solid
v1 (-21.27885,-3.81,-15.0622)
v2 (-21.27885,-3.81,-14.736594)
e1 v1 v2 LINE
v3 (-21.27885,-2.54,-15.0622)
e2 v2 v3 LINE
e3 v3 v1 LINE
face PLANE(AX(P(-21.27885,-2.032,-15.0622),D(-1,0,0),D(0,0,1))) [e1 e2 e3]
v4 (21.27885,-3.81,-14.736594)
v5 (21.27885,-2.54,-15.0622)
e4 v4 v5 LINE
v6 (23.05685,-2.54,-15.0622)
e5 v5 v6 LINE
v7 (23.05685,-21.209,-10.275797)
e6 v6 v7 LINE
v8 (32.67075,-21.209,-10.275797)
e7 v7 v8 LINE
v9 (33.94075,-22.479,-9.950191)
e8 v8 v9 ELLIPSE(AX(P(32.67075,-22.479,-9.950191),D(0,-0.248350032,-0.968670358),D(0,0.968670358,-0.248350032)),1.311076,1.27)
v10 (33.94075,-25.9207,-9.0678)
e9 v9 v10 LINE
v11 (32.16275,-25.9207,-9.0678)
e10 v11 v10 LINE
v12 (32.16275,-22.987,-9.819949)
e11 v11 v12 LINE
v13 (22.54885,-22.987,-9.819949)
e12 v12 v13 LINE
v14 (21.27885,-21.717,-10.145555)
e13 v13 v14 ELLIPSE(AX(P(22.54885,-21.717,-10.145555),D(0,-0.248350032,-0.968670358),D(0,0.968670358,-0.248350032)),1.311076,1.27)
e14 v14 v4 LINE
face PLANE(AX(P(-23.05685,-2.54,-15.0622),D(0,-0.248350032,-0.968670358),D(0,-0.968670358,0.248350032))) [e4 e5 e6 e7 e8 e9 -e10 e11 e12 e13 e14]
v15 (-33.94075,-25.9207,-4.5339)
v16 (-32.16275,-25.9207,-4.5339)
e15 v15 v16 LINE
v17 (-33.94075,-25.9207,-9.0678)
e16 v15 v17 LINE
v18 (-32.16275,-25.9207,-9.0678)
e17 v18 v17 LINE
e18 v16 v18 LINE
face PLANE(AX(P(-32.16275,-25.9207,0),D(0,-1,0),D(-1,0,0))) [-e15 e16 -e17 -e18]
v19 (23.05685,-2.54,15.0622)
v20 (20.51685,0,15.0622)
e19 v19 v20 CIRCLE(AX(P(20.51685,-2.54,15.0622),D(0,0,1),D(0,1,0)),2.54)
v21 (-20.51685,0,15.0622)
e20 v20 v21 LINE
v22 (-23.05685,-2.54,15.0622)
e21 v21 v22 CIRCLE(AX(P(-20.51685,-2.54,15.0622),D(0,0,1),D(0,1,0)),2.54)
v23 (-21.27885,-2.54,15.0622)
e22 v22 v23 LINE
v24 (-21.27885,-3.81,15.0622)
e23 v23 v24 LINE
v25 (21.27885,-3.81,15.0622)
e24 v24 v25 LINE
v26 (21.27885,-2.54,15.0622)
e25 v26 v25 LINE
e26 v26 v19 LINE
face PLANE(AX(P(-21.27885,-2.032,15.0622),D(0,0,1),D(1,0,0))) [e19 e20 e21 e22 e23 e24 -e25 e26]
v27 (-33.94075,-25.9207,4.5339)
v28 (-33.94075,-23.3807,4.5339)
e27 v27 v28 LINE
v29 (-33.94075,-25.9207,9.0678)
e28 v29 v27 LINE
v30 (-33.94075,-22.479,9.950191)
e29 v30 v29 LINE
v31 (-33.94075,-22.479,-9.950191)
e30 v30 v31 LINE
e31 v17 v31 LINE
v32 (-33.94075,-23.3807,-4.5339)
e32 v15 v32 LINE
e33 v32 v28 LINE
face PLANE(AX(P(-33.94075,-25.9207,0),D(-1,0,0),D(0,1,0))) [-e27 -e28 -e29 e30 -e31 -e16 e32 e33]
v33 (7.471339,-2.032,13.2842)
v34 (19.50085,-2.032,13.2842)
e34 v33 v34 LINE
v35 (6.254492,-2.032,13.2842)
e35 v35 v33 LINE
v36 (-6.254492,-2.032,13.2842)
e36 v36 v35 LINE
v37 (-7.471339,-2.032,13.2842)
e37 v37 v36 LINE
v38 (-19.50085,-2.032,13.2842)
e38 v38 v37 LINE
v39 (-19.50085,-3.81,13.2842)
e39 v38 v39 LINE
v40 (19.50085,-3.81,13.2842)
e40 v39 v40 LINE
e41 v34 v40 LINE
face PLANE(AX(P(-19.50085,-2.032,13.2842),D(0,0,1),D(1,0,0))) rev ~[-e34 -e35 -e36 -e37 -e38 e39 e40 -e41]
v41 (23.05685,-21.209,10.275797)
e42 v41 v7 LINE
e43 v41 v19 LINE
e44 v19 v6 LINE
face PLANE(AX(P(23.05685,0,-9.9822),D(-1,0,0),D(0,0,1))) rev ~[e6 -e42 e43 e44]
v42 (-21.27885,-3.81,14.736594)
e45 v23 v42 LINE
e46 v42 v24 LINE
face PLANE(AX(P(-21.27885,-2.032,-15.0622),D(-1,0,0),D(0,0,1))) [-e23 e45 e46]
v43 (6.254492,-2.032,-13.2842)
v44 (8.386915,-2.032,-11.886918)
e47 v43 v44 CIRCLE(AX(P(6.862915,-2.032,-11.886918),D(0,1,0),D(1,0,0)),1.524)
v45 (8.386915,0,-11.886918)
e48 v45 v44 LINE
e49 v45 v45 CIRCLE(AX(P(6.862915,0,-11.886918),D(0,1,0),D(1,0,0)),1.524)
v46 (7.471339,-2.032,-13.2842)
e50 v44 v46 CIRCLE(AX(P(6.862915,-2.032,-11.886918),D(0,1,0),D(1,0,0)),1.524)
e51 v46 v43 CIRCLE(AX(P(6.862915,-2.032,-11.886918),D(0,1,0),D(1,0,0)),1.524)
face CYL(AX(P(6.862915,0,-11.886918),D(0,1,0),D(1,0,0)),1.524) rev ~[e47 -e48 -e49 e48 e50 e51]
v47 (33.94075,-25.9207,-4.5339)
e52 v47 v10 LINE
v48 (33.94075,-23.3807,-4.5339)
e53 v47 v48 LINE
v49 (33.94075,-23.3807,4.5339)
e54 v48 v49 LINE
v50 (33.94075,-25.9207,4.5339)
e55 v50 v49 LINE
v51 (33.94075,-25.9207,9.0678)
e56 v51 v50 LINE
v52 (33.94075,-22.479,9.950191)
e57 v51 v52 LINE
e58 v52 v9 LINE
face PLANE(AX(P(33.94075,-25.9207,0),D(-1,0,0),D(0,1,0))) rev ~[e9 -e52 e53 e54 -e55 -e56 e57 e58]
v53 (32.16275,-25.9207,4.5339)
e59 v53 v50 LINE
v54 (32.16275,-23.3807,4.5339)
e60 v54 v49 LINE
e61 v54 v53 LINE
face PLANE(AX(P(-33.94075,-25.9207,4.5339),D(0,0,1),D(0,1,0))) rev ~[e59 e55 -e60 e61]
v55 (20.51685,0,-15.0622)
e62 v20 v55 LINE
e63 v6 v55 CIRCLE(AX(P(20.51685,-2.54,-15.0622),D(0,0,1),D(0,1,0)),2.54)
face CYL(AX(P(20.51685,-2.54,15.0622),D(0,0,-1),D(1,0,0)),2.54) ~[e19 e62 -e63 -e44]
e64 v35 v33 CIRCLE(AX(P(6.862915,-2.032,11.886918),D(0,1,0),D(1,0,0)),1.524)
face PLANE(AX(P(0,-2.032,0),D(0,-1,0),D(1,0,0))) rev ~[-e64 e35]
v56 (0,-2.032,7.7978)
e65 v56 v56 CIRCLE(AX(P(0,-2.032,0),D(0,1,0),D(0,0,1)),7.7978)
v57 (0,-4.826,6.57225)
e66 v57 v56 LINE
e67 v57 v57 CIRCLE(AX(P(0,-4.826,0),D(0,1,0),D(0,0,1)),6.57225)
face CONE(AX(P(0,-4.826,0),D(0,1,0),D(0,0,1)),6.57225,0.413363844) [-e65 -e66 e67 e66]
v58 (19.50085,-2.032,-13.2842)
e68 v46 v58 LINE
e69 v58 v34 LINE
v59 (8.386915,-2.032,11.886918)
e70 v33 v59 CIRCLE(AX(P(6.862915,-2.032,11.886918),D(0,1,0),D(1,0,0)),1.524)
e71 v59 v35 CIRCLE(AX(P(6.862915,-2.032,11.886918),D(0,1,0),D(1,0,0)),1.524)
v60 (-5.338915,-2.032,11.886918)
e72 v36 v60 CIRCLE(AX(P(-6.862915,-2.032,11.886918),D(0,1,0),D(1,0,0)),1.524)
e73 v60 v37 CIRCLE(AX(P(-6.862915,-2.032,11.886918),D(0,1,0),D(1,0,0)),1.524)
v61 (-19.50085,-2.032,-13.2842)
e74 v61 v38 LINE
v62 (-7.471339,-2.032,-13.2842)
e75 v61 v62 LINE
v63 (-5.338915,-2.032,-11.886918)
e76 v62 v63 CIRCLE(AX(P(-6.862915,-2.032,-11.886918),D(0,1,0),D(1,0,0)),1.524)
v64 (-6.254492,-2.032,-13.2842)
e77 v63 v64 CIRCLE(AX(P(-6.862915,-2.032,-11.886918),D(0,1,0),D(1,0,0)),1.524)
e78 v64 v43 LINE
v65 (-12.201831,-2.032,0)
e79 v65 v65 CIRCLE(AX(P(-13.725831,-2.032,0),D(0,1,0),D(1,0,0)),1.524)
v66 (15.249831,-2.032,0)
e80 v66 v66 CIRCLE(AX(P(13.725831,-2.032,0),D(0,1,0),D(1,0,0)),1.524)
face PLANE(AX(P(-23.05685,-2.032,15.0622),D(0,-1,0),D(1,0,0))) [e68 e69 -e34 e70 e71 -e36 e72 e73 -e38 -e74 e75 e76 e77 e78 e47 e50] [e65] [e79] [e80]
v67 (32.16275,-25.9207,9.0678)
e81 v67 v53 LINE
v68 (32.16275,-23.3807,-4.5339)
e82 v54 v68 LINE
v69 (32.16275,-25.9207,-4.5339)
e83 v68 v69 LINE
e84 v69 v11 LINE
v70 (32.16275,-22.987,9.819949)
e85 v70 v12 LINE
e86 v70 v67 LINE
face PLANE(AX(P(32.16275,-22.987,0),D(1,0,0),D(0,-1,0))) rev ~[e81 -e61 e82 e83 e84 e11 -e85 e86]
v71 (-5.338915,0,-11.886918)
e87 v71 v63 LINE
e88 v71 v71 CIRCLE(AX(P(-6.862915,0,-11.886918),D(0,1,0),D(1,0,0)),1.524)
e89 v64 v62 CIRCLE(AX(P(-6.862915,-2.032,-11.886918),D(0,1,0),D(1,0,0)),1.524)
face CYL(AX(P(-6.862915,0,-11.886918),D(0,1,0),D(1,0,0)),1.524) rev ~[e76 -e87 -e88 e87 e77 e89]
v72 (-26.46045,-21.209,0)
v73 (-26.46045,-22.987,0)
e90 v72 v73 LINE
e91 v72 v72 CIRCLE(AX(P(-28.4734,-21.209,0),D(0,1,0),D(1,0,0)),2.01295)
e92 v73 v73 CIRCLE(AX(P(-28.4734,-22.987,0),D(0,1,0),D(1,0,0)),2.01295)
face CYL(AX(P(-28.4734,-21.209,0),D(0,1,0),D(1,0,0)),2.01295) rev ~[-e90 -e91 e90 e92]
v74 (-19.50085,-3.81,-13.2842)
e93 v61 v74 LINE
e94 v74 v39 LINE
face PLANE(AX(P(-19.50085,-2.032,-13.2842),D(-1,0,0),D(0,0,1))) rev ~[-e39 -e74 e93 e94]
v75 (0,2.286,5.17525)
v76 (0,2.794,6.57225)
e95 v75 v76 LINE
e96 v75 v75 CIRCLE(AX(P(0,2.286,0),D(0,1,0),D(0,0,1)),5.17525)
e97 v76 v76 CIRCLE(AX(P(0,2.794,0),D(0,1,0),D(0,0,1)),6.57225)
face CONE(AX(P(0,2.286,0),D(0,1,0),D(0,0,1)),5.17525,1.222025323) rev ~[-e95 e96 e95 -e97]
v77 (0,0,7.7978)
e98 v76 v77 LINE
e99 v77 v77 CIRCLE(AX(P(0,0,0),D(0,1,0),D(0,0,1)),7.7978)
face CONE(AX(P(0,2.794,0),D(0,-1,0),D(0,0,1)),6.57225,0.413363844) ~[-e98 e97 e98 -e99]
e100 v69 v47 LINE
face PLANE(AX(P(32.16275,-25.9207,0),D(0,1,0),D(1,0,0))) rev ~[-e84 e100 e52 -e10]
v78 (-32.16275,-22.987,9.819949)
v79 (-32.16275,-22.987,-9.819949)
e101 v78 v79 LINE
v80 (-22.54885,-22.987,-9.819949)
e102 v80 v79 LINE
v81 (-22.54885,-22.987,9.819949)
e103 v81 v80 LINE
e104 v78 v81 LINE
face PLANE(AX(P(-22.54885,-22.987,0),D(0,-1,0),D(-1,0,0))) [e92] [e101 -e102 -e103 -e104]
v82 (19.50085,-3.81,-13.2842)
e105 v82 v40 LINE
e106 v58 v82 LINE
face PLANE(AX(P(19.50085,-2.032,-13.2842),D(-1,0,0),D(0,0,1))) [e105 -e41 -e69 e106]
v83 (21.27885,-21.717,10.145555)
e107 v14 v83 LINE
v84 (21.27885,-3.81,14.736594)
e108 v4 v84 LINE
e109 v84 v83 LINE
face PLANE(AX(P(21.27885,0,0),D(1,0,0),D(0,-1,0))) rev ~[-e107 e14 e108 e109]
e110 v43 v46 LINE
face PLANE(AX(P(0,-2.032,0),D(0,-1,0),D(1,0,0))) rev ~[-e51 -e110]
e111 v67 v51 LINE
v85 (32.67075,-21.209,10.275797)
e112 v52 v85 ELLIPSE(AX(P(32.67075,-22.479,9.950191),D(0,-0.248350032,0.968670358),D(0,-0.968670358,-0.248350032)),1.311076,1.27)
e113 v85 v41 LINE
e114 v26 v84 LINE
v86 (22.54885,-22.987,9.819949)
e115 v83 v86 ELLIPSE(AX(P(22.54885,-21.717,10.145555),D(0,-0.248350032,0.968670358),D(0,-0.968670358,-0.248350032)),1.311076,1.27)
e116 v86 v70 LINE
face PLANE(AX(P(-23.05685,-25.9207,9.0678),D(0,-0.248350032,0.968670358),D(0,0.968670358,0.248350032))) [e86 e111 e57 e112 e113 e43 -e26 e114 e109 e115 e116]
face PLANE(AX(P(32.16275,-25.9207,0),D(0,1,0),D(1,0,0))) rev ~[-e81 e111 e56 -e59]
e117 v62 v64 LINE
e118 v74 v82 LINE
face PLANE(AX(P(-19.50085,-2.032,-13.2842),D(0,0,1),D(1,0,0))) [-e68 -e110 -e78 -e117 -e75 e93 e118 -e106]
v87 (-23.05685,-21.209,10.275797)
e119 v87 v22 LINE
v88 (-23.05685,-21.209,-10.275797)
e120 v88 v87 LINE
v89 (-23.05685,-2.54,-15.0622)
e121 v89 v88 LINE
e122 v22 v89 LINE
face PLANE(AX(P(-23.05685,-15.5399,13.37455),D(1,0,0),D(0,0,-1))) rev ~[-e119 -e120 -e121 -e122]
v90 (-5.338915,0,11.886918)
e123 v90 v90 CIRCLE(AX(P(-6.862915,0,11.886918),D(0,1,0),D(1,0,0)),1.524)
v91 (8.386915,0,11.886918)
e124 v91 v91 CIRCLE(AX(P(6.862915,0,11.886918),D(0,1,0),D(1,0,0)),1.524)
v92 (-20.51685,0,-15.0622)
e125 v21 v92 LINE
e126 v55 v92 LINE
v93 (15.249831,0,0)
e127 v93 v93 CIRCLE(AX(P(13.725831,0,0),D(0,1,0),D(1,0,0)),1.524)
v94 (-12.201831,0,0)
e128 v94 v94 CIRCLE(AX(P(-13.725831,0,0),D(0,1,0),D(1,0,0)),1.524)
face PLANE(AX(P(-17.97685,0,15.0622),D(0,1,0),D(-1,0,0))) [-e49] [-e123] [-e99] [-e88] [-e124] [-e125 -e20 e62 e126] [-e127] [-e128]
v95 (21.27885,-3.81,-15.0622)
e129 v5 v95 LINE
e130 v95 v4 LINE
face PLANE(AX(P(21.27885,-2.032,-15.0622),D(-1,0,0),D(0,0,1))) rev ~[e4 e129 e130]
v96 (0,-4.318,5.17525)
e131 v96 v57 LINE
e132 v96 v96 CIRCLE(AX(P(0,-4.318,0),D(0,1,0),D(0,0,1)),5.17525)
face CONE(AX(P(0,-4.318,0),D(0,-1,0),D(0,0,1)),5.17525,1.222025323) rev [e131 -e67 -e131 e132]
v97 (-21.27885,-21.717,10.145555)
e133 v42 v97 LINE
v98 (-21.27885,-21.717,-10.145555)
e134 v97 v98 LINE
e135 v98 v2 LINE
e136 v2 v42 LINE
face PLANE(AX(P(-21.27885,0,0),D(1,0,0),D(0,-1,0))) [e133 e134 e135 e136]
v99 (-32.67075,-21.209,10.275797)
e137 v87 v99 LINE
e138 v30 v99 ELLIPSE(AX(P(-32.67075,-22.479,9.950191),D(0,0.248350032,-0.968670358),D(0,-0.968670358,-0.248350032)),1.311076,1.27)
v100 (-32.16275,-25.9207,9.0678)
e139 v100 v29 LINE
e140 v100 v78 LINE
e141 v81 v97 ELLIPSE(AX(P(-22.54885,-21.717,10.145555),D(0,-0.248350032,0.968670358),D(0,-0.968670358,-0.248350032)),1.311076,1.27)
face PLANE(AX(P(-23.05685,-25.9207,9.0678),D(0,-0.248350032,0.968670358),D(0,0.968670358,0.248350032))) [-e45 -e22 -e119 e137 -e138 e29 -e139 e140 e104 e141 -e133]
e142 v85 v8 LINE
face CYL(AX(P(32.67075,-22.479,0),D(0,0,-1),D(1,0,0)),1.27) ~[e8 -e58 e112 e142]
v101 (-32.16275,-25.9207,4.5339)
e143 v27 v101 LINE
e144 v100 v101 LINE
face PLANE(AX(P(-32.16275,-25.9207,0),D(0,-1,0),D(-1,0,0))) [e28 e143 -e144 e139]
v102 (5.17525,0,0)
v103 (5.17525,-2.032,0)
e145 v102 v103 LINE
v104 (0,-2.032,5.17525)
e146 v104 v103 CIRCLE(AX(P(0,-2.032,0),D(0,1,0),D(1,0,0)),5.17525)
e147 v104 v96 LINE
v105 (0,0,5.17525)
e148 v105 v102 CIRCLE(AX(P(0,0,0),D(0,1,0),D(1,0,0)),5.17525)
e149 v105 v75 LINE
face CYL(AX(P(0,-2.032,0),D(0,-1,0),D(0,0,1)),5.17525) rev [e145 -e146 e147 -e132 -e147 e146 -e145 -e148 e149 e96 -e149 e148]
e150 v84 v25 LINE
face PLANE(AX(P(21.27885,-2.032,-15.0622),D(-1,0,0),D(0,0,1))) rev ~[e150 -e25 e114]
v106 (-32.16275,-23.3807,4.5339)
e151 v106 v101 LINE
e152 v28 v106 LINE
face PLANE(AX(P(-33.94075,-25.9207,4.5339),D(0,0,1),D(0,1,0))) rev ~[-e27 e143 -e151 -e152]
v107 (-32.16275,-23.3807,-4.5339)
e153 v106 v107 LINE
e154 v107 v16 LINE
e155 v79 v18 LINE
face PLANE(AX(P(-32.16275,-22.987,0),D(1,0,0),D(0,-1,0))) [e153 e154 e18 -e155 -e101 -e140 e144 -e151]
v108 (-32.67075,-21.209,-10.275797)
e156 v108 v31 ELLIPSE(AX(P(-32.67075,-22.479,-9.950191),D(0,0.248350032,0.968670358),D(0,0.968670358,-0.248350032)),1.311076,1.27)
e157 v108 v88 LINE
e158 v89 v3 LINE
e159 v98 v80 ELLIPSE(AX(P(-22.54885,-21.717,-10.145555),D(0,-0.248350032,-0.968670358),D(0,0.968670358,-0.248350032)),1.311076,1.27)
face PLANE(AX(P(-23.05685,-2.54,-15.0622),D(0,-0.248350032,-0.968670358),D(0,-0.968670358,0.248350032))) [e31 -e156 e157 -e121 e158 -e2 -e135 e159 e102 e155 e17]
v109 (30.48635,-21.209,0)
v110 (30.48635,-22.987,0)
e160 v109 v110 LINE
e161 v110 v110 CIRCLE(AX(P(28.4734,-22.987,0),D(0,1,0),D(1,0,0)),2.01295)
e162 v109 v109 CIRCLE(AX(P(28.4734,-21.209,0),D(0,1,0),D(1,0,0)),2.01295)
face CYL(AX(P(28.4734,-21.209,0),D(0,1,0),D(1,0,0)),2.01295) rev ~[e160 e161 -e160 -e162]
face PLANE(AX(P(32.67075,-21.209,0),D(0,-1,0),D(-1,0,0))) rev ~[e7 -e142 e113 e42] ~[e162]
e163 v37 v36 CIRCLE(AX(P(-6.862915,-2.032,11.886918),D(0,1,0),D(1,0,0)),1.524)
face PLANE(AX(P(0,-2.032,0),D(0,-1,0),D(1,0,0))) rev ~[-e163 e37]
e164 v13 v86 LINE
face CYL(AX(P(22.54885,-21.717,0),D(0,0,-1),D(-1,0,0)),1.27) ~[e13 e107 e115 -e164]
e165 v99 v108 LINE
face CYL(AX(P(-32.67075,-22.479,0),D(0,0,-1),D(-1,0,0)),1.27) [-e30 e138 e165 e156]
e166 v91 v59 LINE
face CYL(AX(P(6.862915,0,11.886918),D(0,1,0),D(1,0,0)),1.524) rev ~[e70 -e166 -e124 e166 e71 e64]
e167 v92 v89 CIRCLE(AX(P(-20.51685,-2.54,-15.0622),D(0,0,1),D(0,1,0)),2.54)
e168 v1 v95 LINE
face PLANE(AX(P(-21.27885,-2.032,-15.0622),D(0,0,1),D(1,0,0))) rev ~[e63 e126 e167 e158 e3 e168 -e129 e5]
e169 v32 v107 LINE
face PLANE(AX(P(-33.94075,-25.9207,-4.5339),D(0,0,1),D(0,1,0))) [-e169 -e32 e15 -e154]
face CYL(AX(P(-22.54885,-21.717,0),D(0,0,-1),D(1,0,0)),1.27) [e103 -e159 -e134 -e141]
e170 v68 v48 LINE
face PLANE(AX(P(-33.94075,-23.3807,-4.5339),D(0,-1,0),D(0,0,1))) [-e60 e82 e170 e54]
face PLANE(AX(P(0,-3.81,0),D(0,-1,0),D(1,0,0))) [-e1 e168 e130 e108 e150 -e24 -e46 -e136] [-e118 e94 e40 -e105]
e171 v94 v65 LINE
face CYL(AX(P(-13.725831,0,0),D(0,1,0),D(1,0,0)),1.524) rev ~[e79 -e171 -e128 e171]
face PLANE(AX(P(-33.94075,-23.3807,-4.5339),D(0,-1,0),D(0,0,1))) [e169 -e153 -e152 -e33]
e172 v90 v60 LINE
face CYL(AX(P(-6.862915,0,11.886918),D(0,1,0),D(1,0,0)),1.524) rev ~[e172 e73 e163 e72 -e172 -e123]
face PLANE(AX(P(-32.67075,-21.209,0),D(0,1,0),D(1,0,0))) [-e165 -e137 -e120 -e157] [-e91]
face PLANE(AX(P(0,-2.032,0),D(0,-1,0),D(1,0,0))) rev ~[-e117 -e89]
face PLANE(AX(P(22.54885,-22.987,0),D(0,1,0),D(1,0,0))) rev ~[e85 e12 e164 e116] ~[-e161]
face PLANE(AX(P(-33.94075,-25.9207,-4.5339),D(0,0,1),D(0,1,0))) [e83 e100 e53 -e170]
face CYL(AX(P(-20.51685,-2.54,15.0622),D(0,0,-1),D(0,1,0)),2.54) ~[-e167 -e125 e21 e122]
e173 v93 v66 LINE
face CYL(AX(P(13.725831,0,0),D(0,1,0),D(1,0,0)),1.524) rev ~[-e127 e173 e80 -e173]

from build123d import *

# Parameters (mm, degrees)
SKETCH1_R                       = 7.7978
SKETCH1_R_2                     = 6.57225
SKETCH1_R_3                     = 5.17525
BOSS_EXTRUDE1_DEPTH             = 2.032
BOSS_EXTRUDE2_REACH             = 17.062
BOSS_EXTRUDE2_DIRECTION_2_REACH = 17.062
SKETCH4_W                       = 3.302
SKETCH4_H                       = 2.032
BOSS_EXTRUDE3_DEPTH             = 30.1244
FILLET1_R                       = 2.54
FILLET2_R                       = 2.54
SKETCH5_W                       = 9.0678
SKETCH5_H                       = 2.54
CUT_EXTRUDE1_DEPTH              = 116.84
SKETCH6_R                       = 2.01295
CUT_EXTRUDE2_DEPTH              = 5.7117
SKETCH7_R                       = 1.524
CUT_EXTRUDE3_DEPTH              = 26.9207
CUT_EXTRUDE4_DEPTH              = 116.84
CUT_EXTRUDE4_DEPTH_BACK         = 116.84
SKETCH9_W                       = 42.5577
SKETCH9_H                       = 30.1244
SKETCH9_W_2                     = 39.0017
SKETCH9_H_2                     = 26.5684
BOSS_EXTRUDE4_DEPTH             = 1.778


with BuildPart() as part:
    # Sketch1 → Boss-Extrude1 (new body)
    with BuildSketch(Plane(origin=(0, 0, 0), x_dir=(1, 0, 0), z_dir=(0, 1, 0))):
        with BuildLine():
            ThreePointArc((-23.05685, 9.9822), (-21.568952448, 13.574302448), (-17.97685, 15.0622))
            Line((-17.97685, 15.0622), (17.97685, 15.0622))
            ThreePointArc((17.97685, 15.0622), (21.568952448, 13.574302448), (23.05685, 9.9822))
            Line((23.05685, 9.9822), (23.05685, -9.9822))
            ThreePointArc((23.05685, -9.9822), (21.568952448, -13.574302448), (17.97685, -15.0622))
            Line((17.97685, -15.0622), (-17.97685, -15.0622))
            ThreePointArc((-17.97685, -15.0622), (-21.568952448, -13.574302448), (-23.05685, -9.9822))
            Line((-23.05685, -9.9822), (-23.05685, 9.9822))
        make_face()
        Circle(SKETCH1_R, mode=Mode.SUBTRACT)
        Circle(SKETCH1_R)
        Circle(SKETCH1_R_2, mode=Mode.SUBTRACT)
        Circle(SKETCH1_R_2)
        Circle(SKETCH1_R_3, mode=Mode.SUBTRACT)
    extrude(amount=-BOSS_EXTRUDE1_DEPTH)

    # Sketch2 → Revolve1 (revolve)
    with BuildSketch(Plane(origin=(0, 0, 0), x_dir=(0, 0, -1), z_dir=(1, 0, 0))):
        Polygon((-5.17525, 2.286), (-6.57225, 2.794), (-7.7978, 0), (-5.17525, 0), align=None)
    revolve1 = revolve(axis=Axis((0, 0, 0), (0, 1, 0)))

    # Boss-Extrude2: up to this face of the body (flat: up to its plane)
    boss_extrude2_end = Plane(part.part.faces().sort_by_distance((0, -1.016, 15.0622))[0])
    # Sketch3 → Boss-Extrude2 (add, up to the picked face)
    with BuildSketch(Plane.XY, mode=Mode.PRIVATE) as boss_extrude2_sk1:
        with BuildLine():
            ThreePointArc((-23.05685, -1.27), (-22.684875612, -0.371974388), (-21.78685, 0))
            Line((-21.78685, 0), (-21.27885, 0))
            Line((-21.27885, 0), (-21.27885, -21.717))
            ThreePointArc((-21.27885, -21.717), (-21.650824388, -22.615025612), (-22.54885, -22.987))
            Line((-22.54885, -22.987), (-23.05685, -22.987))
            Line((-23.05685, -22.987), (-32.16275, -22.987))
            Line((-32.16275, -22.987), (-32.16275, -25.9207))
            Line((-32.16275, -25.9207), (-33.94075, -25.9207))
            Line((-33.94075, -25.9207), (-33.94075, -22.479))
            ThreePointArc((-33.94075, -22.479), (-33.568775612, -21.580974388), (-32.67075, -21.209))
            Line((-32.67075, -21.209), (-32.16275, -21.209))
            Line((-32.16275, -21.209), (-23.05685, -21.209))
            Line((-23.05685, -21.209), (-23.05685, -1.27))
        make_face()
    boss_extrude2_tool1 = split(extrude(boss_extrude2_sk1.sketch, amount=BOSS_EXTRUDE2_REACH, mode=Mode.PRIVATE), bisect_by=boss_extrude2_end, keep=Keep.BOTH, mode=Mode.PRIVATE)
    add(boss_extrude2_tool1.solids().sort_by_distance((-32.41675, -21.49748, 0))[0])
    # Sketch3 → Boss-Extrude2 (add, up to the picked face)
    with BuildSketch(Plane.XY, mode=Mode.PRIVATE) as boss_extrude2_sk2:
        with BuildLine():
            Line((21.27885, 0), (21.27885, -21.717))
            ThreePointArc((21.27885, -21.717), (21.650824388, -22.615025612), (22.54885, -22.987))
            Line((22.54885, -22.987), (23.05685, -22.987))
            Line((23.05685, -22.987), (32.16275, -22.987))
            Line((32.16275, -22.987), (32.16275, -25.9207))
            Line((32.16275, -25.9207), (33.94075, -25.9207))
            Line((33.94075, -25.9207), (33.94075, -22.479))
            ThreePointArc((33.94075, -22.479), (33.568775612, -21.580974388), (32.67075, -21.209))
            Line((32.67075, -21.209), (32.16275, -21.209))
            Line((32.16275, -21.209), (23.05685, -21.209))
            Line((23.05685, -21.209), (23.05685, -1.27))
            ThreePointArc((23.05685, -1.27), (22.684875612, -0.371974388), (21.78685, 0))
            Line((21.78685, 0), (21.27885, 0))
        make_face()
    boss_extrude2_tool2 = split(extrude(boss_extrude2_sk2.sketch, amount=BOSS_EXTRUDE2_REACH, mode=Mode.PRIVATE), bisect_by=boss_extrude2_end, keep=Keep.BOTH, mode=Mode.PRIVATE)
    add(boss_extrude2_tool2.solids().sort_by_distance((32.41675, -21.49748, 0))[0])

    # Boss-Extrude2 direction 2: up to this face of the body (flat: up to its plane)
    boss_extrude2_direction_2_end = Plane(part.part.faces().sort_by_distance((0, -1.016, -15.0622))[0])
    # Sketch3 → Boss-Extrude2 direction 2 (add, up to the picked face)
    with BuildSketch(Plane.XY, mode=Mode.PRIVATE) as boss_extrude2_direction_2_sk1:
        with BuildLine():
            ThreePointArc((-23.05685, -1.27), (-22.684875612, -0.371974388), (-21.78685, 0))
            Line((-21.78685, 0), (-21.27885, 0))
            Line((-21.27885, 0), (-21.27885, -21.717))
            ThreePointArc((-21.27885, -21.717), (-21.650824388, -22.615025612), (-22.54885, -22.987))
            Line((-22.54885, -22.987), (-23.05685, -22.987))
            Line((-23.05685, -22.987), (-32.16275, -22.987))
            Line((-32.16275, -22.987), (-32.16275, -25.9207))
            Line((-32.16275, -25.9207), (-33.94075, -25.9207))
            Line((-33.94075, -25.9207), (-33.94075, -22.479))
            ThreePointArc((-33.94075, -22.479), (-33.568775612, -21.580974388), (-32.67075, -21.209))
            Line((-32.67075, -21.209), (-32.16275, -21.209))
            Line((-32.16275, -21.209), (-23.05685, -21.209))
            Line((-23.05685, -21.209), (-23.05685, -1.27))
        make_face()
    boss_extrude2_direction_2_tool1 = split(extrude(boss_extrude2_direction_2_sk1.sketch, amount=-BOSS_EXTRUDE2_DIRECTION_2_REACH, mode=Mode.PRIVATE), bisect_by=boss_extrude2_direction_2_end, keep=Keep.BOTH, mode=Mode.PRIVATE)
    add(boss_extrude2_direction_2_tool1.solids().sort_by_distance((-32.41675, -21.49748, 0))[0])
    # Sketch3 → Boss-Extrude2 direction 2 (add, up to the picked face)
    with BuildSketch(Plane.XY, mode=Mode.PRIVATE) as boss_extrude2_direction_2_sk2:
        with BuildLine():
            Line((21.27885, 0), (21.27885, -21.717))
            ThreePointArc((21.27885, -21.717), (21.650824388, -22.615025612), (22.54885, -22.987))
            Line((22.54885, -22.987), (23.05685, -22.987))
            Line((23.05685, -22.987), (32.16275, -22.987))
            Line((32.16275, -22.987), (32.16275, -25.9207))
            Line((32.16275, -25.9207), (33.94075, -25.9207))
            Line((33.94075, -25.9207), (33.94075, -22.479))
            ThreePointArc((33.94075, -22.479), (33.568775612, -21.580974388), (32.67075, -21.209))
            Line((32.67075, -21.209), (32.16275, -21.209))
            Line((32.16275, -21.209), (23.05685, -21.209))
            Line((23.05685, -21.209), (23.05685, -1.27))
            ThreePointArc((23.05685, -1.27), (22.684875612, -0.371974388), (21.78685, 0))
            Line((21.78685, 0), (21.27885, 0))
        make_face()
    boss_extrude2_direction_2_tool2 = split(extrude(boss_extrude2_direction_2_sk2.sketch, amount=-BOSS_EXTRUDE2_DIRECTION_2_REACH, mode=Mode.PRIVATE), bisect_by=boss_extrude2_direction_2_end, keep=Keep.BOTH, mode=Mode.PRIVATE)
    add(boss_extrude2_direction_2_tool2.solids().sort_by_distance((32.41675, -21.49748, 0))[0])

    # Sketch4 → Boss-Extrude3 (add)
    with BuildSketch(Plane.XY.offset(15.0622)):
        with BuildLine():
            ThreePointArc((-23.05685, -1.27), (-22.684875612, -0.371974388), (-21.78685, 0))
            Line((-21.78685, 0), (-23.05685, 0))
            Line((-23.05685, 0), (-23.05685, -1.27))
        make_face()
        with BuildLine():
            Line((-21.27885, -2.032), (-21.27885, 0))
            Line((-21.27885, 0), (-21.78685, 0))
            ThreePointArc((-21.78685, 0), (-22.684875612, -0.371974388), (-23.05685, -1.27))
            Line((-23.05685, -1.27), (-23.05685, -2.032))
            Line((-23.05685, -2.032), (-21.27885, -2.032))
        make_face()
        with Locations((-19.62785, -1.016)):
            Rectangle(SKETCH4_W, SKETCH4_H)
        Polygon((23.05685, 0), (21.27885, 0), (17.97685, 0), (17.97685, -2.032), (21.27885, -2.032), (23.05685, -2.032), align=None)
    extrude(amount=-BOSS_EXTRUDE3_DEPTH)

    # Fillet1
    fillet1_edges = [part.edges().sort_by_distance(p)[0] for p in [
        (23.05685, 0, 0),
    ]]
    fillet(fillet1_edges, radius=FILLET1_R)

    # Fillet2
    fillet2_edges = [part.edges().sort_by_distance(p)[0] for p in [
        (-23.05685, 0, 0),
    ]]
    fillet(fillet2_edges, radius=FILLET2_R)

    # Sketch5 → Cut-Extrude1 (cut)
    with BuildSketch(Plane.ZY.offset(33.94075)):
        with Locations((0, -24.6507)):
            Rectangle(SKETCH5_W, SKETCH5_H)
    extrude(amount=-CUT_EXTRUDE1_DEPTH, mode=Mode.SUBTRACT)

    # Sketch6 → Cut-Extrude2 (cut, through all)
    with BuildSketch(Plane(origin=(0, -21.209, 0), x_dir=(1, 0, 0), z_dir=(0, 1, 0))):
        with Locations((-28.4734, 0)):
            Circle(SKETCH6_R)
        with Locations((28.4734, 0)):
            Circle(SKETCH6_R)
    extrude(amount=-CUT_EXTRUDE2_DEPTH, mode=Mode.SUBTRACT)

    # Sketch7 → Cut-Extrude3 (cut, through all)
    with BuildSketch(Plane(origin=(0, 0, 0), x_dir=(1, 0, 0), z_dir=(0, 1, 0))):
        with Locations((13.725830849, 0)):
            Circle(SKETCH7_R)
        with Locations((-13.725830849, 0)):
            Circle(SKETCH7_R)
        with Locations((-6.862915424, -11.886918203)):
            Circle(SKETCH7_R)
        with Locations((6.862915424, 11.886918203)):
            Circle(SKETCH7_R)
        with Locations((-6.862915424, 11.886918203)):
            Circle(SKETCH7_R)
        with Locations((6.862915424, -11.886918203)):
            Circle(SKETCH7_R)
    extrude(amount=-CUT_EXTRUDE3_DEPTH, mode=Mode.SUBTRACT)

    # Sketch8 → Cut-Extrude4 (cut, two sides)
    with BuildSketch(Plane.ZY.offset(23.05685)) as cut_extrude4_sk:
        Polygon((-15.0622, -2.54), (-9.0678, -25.9207), (-15.0622, -25.9207), align=None)
        Polygon((9.0678, -25.9207), (15.0622, -2.54), (15.0622, -25.9207), align=None)
    extrude(amount=CUT_EXTRUDE4_DEPTH, mode=Mode.SUBTRACT)
    extrude(cut_extrude4_sk.sketch, amount=-CUT_EXTRUDE4_DEPTH_BACK, mode=Mode.SUBTRACT)

    # Mirror4: Revolve1 across plane
    add(revolve1.mirror(Plane.ZX.offset(-1.016)))

    # Sketch9 → Boss-Extrude4 (add)
    with BuildSketch(Plane.XZ.offset(2.032)):
        Rectangle(SKETCH9_W, SKETCH9_H)
        Rectangle(SKETCH9_W_2, SKETCH9_H_2, mode=Mode.SUBTRACT)
    extrude(amount=BOSS_EXTRUDE4_DEPTH)


solid = part.part
